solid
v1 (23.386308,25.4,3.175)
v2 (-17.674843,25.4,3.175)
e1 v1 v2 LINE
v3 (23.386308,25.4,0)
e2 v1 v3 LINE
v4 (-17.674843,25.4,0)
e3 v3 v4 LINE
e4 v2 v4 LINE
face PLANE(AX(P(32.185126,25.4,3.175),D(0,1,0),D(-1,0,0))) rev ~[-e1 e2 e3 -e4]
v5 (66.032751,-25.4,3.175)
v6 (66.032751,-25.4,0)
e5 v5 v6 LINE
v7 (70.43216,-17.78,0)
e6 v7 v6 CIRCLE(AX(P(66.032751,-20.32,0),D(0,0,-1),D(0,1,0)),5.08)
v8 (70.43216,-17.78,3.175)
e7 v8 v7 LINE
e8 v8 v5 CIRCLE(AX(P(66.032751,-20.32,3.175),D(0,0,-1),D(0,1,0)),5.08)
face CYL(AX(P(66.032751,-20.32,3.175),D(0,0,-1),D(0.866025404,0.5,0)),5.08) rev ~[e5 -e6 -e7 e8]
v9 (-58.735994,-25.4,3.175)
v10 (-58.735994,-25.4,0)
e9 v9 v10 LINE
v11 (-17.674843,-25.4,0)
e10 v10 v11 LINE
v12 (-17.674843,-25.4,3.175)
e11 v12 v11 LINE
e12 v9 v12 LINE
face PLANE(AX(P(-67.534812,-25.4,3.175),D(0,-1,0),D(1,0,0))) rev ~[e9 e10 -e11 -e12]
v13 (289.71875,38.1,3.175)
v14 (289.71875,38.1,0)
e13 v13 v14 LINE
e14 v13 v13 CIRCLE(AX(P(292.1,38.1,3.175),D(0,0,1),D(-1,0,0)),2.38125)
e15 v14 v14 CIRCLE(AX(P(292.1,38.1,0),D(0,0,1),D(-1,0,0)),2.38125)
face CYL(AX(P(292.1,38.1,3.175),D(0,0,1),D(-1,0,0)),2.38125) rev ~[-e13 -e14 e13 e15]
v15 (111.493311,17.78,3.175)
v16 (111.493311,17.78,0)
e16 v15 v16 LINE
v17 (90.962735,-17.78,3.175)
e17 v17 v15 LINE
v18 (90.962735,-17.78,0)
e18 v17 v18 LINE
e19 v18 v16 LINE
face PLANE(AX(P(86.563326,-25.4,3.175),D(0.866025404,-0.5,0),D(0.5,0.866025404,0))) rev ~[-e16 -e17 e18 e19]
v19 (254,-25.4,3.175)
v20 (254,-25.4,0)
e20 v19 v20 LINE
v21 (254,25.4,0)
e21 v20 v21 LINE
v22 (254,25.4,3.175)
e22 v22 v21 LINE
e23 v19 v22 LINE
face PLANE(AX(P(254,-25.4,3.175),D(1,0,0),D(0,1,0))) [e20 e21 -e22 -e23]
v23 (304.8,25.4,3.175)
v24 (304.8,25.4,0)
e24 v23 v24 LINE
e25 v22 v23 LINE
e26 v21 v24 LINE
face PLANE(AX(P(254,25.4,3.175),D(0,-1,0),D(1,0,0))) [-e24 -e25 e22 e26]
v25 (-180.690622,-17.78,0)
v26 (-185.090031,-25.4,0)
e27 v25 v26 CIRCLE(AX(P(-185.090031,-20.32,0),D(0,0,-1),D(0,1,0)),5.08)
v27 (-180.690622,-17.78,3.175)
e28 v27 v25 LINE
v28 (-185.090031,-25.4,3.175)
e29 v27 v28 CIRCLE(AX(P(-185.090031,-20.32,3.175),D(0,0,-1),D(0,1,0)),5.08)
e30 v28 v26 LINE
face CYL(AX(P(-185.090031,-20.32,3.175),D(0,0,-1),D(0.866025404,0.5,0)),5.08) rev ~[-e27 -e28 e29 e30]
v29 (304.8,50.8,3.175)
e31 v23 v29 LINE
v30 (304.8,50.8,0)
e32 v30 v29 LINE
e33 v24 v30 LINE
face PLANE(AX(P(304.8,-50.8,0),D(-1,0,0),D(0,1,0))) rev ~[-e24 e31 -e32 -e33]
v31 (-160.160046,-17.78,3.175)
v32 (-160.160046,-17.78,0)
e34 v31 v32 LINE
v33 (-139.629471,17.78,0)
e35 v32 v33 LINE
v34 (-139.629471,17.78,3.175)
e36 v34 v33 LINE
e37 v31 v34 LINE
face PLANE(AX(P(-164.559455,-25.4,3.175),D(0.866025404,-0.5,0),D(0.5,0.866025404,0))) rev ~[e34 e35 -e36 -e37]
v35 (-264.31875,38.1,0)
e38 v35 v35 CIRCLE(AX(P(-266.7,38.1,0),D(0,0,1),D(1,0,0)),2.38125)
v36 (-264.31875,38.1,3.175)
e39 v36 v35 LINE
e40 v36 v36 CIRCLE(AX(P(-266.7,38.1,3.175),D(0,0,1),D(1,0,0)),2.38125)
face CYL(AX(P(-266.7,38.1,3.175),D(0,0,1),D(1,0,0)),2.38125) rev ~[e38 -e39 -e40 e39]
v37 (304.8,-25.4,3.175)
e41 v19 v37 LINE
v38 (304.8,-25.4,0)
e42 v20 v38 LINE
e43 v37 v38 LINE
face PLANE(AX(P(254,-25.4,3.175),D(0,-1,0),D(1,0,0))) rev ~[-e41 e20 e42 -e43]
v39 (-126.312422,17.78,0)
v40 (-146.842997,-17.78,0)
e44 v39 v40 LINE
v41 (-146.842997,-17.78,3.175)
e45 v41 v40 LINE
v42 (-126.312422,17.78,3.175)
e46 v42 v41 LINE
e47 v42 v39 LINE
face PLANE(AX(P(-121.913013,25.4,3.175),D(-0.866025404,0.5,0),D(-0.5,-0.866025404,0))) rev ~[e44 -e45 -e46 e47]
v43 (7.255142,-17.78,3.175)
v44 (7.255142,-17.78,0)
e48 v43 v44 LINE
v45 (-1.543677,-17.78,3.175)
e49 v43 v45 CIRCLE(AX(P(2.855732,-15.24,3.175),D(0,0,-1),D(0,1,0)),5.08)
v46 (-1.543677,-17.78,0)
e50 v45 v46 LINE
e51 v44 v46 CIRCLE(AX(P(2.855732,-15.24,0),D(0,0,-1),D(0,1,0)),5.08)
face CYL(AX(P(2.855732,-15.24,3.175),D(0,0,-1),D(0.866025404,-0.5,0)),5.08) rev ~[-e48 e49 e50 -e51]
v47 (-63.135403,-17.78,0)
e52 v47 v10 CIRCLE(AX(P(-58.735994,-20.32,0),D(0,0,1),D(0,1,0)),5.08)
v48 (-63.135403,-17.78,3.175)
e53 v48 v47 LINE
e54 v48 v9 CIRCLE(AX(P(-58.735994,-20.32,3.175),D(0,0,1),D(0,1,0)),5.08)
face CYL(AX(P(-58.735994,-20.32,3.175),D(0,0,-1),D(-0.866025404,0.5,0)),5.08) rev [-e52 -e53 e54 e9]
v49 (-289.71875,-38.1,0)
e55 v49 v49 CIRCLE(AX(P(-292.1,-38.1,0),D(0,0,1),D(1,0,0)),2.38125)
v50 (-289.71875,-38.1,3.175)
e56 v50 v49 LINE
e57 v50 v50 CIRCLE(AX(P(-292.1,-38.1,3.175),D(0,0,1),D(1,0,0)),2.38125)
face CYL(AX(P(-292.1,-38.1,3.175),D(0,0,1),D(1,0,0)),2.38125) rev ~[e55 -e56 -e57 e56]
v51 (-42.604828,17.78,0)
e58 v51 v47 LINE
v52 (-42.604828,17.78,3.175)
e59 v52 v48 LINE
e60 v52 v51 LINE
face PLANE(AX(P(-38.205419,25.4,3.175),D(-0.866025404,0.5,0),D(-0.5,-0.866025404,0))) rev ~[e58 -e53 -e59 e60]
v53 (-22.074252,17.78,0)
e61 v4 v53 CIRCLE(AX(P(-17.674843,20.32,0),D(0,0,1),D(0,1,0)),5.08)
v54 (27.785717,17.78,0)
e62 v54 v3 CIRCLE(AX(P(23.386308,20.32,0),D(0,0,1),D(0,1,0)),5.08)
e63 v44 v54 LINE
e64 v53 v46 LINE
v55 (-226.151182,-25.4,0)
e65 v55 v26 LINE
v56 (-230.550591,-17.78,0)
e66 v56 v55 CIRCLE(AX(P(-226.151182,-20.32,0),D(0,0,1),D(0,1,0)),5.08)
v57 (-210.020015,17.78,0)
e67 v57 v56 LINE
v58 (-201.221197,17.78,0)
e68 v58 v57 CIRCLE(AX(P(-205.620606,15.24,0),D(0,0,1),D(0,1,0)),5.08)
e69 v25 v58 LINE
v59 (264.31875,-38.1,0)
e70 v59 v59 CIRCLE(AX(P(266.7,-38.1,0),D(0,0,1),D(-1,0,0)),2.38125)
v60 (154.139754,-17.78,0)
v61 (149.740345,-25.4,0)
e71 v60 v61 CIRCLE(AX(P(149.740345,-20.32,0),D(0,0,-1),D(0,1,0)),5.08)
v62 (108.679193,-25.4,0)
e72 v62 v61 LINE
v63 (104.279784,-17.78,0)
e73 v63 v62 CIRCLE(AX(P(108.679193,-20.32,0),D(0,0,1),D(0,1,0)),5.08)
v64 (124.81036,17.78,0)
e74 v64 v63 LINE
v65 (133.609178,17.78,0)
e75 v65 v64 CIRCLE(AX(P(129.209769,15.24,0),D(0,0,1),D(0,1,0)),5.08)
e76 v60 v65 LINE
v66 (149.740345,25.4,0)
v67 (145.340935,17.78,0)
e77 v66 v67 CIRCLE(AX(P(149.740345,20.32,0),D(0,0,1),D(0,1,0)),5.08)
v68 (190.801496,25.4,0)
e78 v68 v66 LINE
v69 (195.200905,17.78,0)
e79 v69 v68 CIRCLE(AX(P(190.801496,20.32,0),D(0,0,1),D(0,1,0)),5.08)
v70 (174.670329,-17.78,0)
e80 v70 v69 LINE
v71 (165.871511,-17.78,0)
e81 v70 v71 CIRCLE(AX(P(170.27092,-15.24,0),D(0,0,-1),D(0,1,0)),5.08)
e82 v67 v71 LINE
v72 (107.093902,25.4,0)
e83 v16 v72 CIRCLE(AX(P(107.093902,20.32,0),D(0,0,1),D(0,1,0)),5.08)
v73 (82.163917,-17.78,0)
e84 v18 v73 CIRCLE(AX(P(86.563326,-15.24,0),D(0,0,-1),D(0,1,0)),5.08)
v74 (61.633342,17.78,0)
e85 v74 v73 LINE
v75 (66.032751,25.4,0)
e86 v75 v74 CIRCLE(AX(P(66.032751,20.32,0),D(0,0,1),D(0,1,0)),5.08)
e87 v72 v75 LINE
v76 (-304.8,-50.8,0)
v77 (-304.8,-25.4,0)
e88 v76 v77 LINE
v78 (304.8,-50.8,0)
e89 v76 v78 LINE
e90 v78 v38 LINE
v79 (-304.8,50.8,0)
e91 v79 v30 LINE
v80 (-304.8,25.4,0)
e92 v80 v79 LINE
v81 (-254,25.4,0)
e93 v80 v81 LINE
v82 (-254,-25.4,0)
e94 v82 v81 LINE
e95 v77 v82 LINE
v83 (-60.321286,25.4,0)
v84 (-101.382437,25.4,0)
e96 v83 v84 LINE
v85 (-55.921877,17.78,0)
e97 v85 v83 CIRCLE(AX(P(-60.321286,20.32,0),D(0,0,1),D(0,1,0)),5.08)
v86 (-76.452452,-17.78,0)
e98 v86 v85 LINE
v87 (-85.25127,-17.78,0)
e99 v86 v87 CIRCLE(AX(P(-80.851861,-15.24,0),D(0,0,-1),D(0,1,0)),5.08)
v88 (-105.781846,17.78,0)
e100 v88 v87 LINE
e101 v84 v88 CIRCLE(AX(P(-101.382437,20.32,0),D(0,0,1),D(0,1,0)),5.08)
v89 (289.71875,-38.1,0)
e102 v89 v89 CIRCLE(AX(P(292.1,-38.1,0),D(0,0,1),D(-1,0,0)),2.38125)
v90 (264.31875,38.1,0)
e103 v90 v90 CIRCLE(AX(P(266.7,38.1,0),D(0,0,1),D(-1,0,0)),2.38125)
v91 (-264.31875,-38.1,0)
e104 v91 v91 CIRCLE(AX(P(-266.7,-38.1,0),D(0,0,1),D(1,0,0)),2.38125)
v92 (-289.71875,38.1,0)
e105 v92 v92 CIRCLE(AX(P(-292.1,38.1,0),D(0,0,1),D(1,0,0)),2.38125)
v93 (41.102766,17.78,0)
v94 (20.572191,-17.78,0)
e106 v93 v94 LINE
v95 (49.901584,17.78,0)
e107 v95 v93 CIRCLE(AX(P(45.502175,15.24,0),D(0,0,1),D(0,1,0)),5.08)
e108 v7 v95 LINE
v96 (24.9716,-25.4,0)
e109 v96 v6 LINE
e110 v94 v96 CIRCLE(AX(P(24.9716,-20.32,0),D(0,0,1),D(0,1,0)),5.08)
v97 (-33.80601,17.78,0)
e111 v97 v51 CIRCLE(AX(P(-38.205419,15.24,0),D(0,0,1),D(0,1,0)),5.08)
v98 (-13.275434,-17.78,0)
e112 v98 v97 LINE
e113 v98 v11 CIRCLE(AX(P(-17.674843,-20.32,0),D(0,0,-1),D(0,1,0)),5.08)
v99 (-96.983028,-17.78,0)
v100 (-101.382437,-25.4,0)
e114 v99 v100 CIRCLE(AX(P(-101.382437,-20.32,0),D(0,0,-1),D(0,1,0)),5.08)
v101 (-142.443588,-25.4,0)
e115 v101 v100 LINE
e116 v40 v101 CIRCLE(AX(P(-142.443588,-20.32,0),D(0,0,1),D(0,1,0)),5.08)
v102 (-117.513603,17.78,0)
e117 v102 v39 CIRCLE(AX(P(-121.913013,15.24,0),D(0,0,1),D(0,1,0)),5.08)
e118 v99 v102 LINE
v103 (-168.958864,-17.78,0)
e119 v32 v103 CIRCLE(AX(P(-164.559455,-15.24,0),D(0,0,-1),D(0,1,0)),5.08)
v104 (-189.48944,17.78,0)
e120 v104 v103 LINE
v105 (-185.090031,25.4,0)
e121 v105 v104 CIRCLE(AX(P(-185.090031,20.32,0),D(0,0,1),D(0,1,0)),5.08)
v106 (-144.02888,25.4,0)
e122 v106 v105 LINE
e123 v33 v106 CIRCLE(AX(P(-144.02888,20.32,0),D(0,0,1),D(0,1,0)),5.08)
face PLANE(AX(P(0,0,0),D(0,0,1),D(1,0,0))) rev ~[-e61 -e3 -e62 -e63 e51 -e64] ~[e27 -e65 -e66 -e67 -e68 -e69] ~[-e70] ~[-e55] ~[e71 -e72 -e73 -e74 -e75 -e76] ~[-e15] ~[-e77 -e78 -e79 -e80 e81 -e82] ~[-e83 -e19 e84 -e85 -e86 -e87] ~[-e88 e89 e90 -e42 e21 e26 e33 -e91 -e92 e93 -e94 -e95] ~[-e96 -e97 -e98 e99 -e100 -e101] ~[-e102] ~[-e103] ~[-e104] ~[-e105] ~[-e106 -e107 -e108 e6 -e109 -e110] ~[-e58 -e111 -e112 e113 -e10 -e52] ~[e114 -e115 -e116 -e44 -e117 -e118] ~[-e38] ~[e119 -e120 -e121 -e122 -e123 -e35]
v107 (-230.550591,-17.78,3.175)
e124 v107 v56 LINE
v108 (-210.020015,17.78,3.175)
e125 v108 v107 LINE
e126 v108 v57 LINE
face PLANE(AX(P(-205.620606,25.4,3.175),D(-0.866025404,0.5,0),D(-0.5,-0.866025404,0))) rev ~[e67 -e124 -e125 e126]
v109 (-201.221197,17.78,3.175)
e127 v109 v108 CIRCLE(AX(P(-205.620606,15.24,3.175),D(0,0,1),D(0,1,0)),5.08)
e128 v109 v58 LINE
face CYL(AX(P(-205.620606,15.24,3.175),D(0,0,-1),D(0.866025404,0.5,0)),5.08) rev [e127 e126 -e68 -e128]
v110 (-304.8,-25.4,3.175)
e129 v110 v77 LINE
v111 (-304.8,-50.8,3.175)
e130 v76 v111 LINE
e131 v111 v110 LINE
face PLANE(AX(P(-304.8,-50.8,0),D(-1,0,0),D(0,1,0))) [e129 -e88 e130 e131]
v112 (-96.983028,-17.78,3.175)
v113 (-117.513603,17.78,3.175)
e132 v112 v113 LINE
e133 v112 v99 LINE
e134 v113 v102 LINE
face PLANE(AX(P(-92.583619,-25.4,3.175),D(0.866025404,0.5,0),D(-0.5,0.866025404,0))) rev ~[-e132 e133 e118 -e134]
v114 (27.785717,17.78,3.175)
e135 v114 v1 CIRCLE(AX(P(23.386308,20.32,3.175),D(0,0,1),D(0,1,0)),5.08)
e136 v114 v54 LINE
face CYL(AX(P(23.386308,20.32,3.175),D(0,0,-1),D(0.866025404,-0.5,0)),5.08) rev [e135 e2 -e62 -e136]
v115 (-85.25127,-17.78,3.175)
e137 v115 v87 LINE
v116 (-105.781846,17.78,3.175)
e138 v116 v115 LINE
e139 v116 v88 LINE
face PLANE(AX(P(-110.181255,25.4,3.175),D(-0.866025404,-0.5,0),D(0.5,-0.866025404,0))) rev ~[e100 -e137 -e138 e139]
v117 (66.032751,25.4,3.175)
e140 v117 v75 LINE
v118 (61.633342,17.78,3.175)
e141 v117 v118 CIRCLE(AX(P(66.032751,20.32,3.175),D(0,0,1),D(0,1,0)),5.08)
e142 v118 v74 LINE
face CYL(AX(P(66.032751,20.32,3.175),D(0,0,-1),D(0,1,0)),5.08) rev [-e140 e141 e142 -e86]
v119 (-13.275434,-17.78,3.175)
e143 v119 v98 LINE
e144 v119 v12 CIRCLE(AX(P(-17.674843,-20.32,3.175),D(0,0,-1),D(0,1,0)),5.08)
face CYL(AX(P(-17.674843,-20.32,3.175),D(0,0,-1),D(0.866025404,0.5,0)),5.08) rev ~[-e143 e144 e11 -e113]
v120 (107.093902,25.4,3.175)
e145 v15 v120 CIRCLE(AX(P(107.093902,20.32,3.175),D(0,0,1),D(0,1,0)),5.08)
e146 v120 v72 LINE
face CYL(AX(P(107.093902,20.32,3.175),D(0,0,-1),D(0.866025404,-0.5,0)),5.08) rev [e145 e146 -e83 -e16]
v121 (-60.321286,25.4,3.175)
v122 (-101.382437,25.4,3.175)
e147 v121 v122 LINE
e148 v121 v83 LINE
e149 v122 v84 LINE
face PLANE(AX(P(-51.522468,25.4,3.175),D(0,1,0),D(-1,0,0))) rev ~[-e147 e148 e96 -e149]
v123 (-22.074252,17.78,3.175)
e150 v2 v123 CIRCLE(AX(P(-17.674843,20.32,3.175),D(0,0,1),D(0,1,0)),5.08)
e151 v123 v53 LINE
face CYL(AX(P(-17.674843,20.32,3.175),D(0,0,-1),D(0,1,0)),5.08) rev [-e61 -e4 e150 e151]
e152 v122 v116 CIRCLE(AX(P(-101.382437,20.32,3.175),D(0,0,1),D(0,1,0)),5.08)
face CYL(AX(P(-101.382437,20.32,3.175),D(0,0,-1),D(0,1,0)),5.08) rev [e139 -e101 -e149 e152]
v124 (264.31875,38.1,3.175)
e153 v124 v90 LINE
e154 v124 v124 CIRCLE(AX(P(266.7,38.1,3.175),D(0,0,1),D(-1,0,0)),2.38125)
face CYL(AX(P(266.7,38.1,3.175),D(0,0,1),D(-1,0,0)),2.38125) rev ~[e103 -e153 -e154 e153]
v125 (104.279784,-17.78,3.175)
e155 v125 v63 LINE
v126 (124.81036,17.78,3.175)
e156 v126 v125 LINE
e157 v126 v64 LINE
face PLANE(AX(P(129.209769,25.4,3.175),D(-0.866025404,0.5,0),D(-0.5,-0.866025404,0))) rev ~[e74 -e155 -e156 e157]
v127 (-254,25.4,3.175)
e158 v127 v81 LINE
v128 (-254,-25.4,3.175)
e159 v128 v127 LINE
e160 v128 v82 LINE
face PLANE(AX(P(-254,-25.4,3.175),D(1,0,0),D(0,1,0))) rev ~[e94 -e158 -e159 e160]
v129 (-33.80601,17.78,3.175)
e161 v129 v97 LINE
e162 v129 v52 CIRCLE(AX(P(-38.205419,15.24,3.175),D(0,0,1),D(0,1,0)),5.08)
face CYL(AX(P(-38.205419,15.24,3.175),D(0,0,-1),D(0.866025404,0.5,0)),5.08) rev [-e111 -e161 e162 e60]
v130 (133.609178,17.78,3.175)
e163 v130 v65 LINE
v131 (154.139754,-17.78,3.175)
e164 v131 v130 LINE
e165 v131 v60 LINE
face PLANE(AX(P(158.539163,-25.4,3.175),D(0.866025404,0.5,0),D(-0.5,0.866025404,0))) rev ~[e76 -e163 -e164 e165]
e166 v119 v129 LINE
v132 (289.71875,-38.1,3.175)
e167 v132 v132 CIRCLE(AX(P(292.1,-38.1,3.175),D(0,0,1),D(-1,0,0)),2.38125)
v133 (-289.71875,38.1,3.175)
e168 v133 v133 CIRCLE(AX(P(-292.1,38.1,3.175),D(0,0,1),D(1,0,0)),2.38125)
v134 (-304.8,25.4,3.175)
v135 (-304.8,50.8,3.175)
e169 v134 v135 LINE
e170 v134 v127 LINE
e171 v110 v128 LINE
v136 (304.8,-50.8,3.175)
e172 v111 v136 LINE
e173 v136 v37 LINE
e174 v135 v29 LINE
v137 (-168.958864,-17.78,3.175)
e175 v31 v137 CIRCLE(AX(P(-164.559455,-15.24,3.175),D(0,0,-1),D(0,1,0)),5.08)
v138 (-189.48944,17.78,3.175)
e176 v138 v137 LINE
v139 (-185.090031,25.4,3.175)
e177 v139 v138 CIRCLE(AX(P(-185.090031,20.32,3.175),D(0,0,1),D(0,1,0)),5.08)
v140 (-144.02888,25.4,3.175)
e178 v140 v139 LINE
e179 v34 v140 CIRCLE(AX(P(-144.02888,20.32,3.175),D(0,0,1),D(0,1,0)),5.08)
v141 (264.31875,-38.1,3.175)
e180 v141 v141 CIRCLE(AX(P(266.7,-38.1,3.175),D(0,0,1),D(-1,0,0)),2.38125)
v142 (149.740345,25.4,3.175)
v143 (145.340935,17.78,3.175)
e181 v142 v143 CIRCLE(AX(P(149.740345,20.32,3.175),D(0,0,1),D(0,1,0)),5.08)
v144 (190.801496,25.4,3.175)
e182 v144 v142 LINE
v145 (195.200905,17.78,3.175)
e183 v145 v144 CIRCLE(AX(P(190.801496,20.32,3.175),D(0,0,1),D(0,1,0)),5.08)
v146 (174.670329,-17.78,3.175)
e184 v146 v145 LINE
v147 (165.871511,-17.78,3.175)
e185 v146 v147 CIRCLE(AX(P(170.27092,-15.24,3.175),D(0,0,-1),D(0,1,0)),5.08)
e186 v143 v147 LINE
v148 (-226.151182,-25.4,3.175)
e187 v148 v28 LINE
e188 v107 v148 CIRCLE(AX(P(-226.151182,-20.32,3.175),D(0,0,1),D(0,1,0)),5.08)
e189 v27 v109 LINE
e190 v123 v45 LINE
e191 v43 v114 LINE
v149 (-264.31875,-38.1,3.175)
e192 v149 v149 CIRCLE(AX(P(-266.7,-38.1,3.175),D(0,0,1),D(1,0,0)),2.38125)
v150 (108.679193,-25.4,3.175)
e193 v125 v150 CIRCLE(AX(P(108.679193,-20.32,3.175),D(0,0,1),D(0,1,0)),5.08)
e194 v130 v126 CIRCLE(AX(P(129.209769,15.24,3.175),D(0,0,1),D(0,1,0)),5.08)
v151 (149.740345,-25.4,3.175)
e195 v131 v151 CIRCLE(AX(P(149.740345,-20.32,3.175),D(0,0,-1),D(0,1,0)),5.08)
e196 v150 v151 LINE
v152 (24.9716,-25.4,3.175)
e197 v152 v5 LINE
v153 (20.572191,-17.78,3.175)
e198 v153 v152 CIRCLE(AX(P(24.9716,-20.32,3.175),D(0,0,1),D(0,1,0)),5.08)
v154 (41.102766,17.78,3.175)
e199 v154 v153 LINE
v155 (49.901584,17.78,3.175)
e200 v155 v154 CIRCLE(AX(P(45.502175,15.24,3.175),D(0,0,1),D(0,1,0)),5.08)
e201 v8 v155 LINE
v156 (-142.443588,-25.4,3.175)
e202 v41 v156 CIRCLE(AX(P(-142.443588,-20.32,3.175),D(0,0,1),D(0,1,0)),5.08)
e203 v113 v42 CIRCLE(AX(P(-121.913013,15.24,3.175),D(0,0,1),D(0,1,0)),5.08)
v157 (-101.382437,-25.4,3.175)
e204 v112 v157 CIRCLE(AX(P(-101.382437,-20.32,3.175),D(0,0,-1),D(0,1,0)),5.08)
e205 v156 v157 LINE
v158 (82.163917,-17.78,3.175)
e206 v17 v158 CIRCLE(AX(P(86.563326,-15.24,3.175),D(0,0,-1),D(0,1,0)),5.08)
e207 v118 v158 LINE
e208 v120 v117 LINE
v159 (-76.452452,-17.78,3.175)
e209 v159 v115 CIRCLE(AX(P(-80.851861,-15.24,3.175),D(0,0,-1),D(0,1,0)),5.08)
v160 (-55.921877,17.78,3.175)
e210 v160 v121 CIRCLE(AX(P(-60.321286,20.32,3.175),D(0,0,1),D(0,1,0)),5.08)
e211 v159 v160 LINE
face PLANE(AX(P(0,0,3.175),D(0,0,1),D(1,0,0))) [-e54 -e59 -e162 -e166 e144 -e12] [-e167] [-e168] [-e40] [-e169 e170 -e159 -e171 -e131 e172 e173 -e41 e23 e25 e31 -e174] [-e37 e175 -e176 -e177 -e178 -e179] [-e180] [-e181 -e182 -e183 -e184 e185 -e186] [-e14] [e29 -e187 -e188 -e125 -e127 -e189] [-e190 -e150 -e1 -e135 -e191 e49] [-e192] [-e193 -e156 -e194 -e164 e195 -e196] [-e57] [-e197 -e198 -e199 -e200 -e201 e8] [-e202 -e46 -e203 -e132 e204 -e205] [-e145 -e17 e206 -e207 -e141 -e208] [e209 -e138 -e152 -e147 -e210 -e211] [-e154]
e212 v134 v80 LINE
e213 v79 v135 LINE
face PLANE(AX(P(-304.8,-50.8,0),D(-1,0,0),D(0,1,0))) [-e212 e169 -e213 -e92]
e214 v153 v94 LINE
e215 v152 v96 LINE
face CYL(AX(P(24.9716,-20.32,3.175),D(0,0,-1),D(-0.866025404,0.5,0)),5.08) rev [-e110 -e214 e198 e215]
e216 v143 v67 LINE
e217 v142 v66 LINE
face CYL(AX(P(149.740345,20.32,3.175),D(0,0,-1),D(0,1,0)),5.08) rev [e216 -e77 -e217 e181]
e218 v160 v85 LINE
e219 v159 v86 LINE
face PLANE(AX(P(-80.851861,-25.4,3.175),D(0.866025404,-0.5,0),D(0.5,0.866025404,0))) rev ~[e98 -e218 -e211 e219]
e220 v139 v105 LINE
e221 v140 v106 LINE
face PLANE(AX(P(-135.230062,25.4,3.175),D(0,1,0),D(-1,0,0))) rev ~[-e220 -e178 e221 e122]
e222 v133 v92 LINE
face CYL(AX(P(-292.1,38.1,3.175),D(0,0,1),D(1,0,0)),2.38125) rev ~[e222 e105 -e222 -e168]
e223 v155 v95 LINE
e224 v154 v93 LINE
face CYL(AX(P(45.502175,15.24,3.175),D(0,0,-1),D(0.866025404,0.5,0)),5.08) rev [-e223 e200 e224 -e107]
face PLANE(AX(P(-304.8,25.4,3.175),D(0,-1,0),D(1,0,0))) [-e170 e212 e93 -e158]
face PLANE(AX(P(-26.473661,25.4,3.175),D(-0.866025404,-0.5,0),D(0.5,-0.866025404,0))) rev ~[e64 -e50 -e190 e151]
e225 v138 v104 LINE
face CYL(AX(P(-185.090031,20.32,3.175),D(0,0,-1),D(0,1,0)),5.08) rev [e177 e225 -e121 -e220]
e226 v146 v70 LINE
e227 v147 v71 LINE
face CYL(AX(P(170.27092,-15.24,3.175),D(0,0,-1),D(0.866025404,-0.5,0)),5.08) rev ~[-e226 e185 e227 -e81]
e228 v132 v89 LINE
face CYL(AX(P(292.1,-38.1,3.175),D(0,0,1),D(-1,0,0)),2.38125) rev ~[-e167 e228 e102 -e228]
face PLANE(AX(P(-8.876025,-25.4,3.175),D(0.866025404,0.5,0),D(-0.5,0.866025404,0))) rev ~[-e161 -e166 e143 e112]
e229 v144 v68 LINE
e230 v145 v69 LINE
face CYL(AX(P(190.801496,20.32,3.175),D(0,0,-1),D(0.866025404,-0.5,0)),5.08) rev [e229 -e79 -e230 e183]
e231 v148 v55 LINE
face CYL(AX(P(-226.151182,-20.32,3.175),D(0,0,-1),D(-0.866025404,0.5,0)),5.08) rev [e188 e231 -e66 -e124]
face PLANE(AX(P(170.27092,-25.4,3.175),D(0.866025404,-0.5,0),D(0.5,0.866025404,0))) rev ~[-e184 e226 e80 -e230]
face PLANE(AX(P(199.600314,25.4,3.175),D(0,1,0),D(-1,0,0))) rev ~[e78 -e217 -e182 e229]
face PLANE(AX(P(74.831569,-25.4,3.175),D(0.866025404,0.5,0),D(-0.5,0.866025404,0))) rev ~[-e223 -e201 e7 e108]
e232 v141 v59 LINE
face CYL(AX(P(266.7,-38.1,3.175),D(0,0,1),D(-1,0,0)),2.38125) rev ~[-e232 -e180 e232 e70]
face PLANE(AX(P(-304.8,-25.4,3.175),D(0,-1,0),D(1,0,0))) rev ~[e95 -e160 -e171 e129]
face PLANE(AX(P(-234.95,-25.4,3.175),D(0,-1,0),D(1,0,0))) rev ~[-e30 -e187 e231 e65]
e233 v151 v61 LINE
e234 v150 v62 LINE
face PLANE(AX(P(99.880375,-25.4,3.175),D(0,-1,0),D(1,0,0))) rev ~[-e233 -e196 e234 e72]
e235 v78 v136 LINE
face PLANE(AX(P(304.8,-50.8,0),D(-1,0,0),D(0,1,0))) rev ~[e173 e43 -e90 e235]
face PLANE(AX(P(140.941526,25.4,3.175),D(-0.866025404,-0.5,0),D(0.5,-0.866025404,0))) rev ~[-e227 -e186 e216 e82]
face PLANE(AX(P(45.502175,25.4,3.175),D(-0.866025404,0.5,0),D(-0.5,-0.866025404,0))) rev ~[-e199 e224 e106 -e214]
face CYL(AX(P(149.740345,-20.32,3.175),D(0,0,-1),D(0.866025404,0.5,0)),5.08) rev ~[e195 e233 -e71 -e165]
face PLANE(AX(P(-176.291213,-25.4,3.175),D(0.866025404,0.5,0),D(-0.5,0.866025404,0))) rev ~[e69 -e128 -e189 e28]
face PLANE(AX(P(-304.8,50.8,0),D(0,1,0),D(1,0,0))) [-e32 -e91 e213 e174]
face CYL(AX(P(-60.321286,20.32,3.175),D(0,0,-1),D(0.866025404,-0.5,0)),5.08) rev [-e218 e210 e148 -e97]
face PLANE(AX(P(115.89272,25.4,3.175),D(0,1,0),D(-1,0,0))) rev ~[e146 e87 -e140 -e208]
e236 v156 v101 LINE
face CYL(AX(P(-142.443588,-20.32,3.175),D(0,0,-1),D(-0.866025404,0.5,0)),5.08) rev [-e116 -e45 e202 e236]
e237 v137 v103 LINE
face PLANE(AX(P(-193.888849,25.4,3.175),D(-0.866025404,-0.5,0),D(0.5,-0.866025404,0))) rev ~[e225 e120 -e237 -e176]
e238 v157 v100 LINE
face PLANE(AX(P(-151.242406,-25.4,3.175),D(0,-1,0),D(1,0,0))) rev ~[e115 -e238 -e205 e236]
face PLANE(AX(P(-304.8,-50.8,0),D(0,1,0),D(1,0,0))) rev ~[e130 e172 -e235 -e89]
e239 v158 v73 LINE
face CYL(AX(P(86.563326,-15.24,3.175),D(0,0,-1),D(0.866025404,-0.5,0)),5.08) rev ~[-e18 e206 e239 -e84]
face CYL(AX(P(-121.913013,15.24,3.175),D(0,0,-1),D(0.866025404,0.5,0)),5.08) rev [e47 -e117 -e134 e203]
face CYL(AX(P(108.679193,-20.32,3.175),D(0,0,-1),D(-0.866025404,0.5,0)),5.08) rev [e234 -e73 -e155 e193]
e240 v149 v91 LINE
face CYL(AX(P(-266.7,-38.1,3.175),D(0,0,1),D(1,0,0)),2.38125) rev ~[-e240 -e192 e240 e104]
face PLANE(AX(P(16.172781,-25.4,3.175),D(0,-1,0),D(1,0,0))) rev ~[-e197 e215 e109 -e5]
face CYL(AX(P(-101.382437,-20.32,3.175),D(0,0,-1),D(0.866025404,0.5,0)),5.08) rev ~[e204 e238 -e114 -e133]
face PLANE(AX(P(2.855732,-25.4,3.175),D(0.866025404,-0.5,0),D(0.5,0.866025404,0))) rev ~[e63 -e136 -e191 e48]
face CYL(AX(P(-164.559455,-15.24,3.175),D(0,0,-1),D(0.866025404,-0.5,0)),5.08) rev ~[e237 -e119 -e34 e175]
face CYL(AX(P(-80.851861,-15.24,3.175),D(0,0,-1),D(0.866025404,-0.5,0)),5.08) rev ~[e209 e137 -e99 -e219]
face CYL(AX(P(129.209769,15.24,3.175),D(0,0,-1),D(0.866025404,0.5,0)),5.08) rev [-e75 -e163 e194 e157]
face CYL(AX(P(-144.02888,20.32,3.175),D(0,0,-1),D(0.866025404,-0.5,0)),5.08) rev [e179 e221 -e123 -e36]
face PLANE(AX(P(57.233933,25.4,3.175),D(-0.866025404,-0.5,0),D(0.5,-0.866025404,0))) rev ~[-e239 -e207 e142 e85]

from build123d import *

# Parameters (mm, degrees)
SKETCH1_W           = 609.6
SKETCH1_H           = 101.6
BOSS_EXTRUDE1_DEPTH = 3.175
SKETCH2_R           = 2.38125
CUT_EXTRUDE1_DEPTH  = 310.020647571
CUT_EXTRUDE2_DEPTH  = 310.020647571
FILLET1_R           = 5.08
SKETCH4_W           = 50.8
SKETCH4_H           = 50.8
CUT_EXTRUDE3_DEPTH  = 310.020647571


with BuildPart() as part:
    # Sketch1 → Boss-Extrude1 (new body)
    with BuildSketch(Plane.XY):
        Rectangle(SKETCH1_W, SKETCH1_H)
    extrude(amount=BOSS_EXTRUDE1_DEPTH)

    # Sketch2 → Cut-Extrude1 (cut, through all)
    with BuildSketch(Plane.XY.offset(3.175)):
        with Locations((-292.1, 38.1)):
            Circle(SKETCH2_R)
        with Locations((-292.1, -38.1)):
            Circle(SKETCH2_R)
        with Locations((-266.7, 38.1)):
            Circle(SKETCH2_R)
        with Locations((-266.7, -38.1)):
            Circle(SKETCH2_R)
        with Locations((-292.1, -19.05)):
            Circle(SKETCH2_R)
        with Locations((-266.7, -19.05)):
            Circle(SKETCH2_R)
        with Locations(Location((266.7, -19.05, 0), (0, 0, 180))):
            Circle(SKETCH2_R)
        with Locations(Location((292.1, -19.05, 0), (0, 0, 180))):
            Circle(SKETCH2_R)
        with Locations(Location((266.7, -38.1, 0), (0, 0, 180))):
            Circle(SKETCH2_R)
        with Locations(Location((266.7, 38.1, 0), (0, 0, 180))):
            Circle(SKETCH2_R)
        with Locations(Location((292.1, -38.1, 0), (0, 0, 180))):
            Circle(SKETCH2_R)
        with Locations(Location((292.1, 38.1, 0), (0, 0, 180))):
            Circle(SKETCH2_R)
    extrude(amount=-CUT_EXTRUDE1_DEPTH, mode=Mode.SUBTRACT)

    # Sketch3 → Cut-Extrude2 (cut, through all)
    with BuildSketch(Plane.XY.offset(3.175)):
        Polygon((-176.29121265, -25.4), (-205.620606325, 25.4), (-234.95, -25.4), align=None)
        Polygon((-164.55945518, -25.4), (-135.230061506, 25.4), (-193.888848855, 25.4), align=None)
        Polygon((-92.583618834, -25.4), (-121.913012509, 25.4), (-151.242406183, -25.4), align=None)
        Polygon((-80.851861364, -25.4), (-51.522467689, 25.4), (-110.181255039, 25.4), align=None)
        Polygon((-8.876025017, -25.4), (-38.205418692, 25.4), (-67.534812367, -25.4), align=None)
        Polygon((2.855732453, -25.4), (32.185126128, 25.4), (-26.473661222, 25.4), align=None)
        Polygon((74.8315688, -25.4), (45.502175125, 25.4), (16.17278145, -25.4), align=None)
        Polygon((86.563326269, -25.4), (115.892719944, 25.4), (57.233932595, 25.4), align=None)
        Polygon((158.539162616, -25.4), (129.209768941, 25.4), (99.880375267, -25.4), align=None)
        Polygon((170.270920086, -25.4), (199.600313761, 25.4), (140.941526411, 25.4), align=None)
    extrude(amount=-CUT_EXTRUDE2_DEPTH, mode=Mode.SUBTRACT)

    # Fillet1
    fillet1_edges = [part.edges().sort_by_distance(p)[0] for p in [
        (74.8315688, -25.4, 1.5875),
        (16.17278145, -25.4, 1.5875),
        (45.502175125, 25.4, 1.5875),
        (2.855732453, -25.4, 1.5875),
        (-26.473661222, 25.4, 1.5875),
        (32.185126128, 25.4, 1.5875),
        (158.539162616, -25.4, 1.5875),
        (99.880375267, -25.4, 1.5875),
        (129.209768941, 25.4, 1.5875),
        (86.563326269, -25.4, 1.5875),
        (57.233932595, 25.4, 1.5875),
        (115.892719944, 25.4, 1.5875),
        (-92.583618834, -25.4, 1.5875),
        (-151.242406183, -25.4, 1.5875),
        (-121.913012509, 25.4, 1.5875),
        (-164.55945518, -25.4, 1.5875),
        (-193.888848855, 25.4, 1.5875),
        (-135.230061506, 25.4, 1.5875),
        (-8.876025017, -25.4, 1.5875),
        (-67.534812367, -25.4, 1.5875),
        (-38.205418692, 25.4, 1.5875),
        (-80.851861364, -25.4, 1.5875),
        (-110.181255039, 25.4, 1.5875),
        (-51.522467689, 25.4, 1.5875),
        (170.270920086, -25.4, 1.5875),
        (140.941526411, 25.4, 1.5875),
        (199.600313761, 25.4, 1.5875),
        (-176.29121265, -25.4, 1.5875),
        (-234.95, -25.4, 1.5875),
        (-205.620606325, 25.4, 1.5875),
    ]]
    fillet(fillet1_edges, radius=FILLET1_R)

    # Sketch4 → Cut-Extrude3 (cut, through all)
    with BuildSketch(Plane.XY.offset(3.175)):
        with Locations((-279.4, 0)):
            Rectangle(SKETCH4_W, SKETCH4_H)
        with Locations((279.4, 0)):
            Rectangle(SKETCH4_W, SKETCH4_H)
    extrude(amount=-CUT_EXTRUDE3_DEPTH, mode=Mode.SUBTRACT)


solid = part.part
